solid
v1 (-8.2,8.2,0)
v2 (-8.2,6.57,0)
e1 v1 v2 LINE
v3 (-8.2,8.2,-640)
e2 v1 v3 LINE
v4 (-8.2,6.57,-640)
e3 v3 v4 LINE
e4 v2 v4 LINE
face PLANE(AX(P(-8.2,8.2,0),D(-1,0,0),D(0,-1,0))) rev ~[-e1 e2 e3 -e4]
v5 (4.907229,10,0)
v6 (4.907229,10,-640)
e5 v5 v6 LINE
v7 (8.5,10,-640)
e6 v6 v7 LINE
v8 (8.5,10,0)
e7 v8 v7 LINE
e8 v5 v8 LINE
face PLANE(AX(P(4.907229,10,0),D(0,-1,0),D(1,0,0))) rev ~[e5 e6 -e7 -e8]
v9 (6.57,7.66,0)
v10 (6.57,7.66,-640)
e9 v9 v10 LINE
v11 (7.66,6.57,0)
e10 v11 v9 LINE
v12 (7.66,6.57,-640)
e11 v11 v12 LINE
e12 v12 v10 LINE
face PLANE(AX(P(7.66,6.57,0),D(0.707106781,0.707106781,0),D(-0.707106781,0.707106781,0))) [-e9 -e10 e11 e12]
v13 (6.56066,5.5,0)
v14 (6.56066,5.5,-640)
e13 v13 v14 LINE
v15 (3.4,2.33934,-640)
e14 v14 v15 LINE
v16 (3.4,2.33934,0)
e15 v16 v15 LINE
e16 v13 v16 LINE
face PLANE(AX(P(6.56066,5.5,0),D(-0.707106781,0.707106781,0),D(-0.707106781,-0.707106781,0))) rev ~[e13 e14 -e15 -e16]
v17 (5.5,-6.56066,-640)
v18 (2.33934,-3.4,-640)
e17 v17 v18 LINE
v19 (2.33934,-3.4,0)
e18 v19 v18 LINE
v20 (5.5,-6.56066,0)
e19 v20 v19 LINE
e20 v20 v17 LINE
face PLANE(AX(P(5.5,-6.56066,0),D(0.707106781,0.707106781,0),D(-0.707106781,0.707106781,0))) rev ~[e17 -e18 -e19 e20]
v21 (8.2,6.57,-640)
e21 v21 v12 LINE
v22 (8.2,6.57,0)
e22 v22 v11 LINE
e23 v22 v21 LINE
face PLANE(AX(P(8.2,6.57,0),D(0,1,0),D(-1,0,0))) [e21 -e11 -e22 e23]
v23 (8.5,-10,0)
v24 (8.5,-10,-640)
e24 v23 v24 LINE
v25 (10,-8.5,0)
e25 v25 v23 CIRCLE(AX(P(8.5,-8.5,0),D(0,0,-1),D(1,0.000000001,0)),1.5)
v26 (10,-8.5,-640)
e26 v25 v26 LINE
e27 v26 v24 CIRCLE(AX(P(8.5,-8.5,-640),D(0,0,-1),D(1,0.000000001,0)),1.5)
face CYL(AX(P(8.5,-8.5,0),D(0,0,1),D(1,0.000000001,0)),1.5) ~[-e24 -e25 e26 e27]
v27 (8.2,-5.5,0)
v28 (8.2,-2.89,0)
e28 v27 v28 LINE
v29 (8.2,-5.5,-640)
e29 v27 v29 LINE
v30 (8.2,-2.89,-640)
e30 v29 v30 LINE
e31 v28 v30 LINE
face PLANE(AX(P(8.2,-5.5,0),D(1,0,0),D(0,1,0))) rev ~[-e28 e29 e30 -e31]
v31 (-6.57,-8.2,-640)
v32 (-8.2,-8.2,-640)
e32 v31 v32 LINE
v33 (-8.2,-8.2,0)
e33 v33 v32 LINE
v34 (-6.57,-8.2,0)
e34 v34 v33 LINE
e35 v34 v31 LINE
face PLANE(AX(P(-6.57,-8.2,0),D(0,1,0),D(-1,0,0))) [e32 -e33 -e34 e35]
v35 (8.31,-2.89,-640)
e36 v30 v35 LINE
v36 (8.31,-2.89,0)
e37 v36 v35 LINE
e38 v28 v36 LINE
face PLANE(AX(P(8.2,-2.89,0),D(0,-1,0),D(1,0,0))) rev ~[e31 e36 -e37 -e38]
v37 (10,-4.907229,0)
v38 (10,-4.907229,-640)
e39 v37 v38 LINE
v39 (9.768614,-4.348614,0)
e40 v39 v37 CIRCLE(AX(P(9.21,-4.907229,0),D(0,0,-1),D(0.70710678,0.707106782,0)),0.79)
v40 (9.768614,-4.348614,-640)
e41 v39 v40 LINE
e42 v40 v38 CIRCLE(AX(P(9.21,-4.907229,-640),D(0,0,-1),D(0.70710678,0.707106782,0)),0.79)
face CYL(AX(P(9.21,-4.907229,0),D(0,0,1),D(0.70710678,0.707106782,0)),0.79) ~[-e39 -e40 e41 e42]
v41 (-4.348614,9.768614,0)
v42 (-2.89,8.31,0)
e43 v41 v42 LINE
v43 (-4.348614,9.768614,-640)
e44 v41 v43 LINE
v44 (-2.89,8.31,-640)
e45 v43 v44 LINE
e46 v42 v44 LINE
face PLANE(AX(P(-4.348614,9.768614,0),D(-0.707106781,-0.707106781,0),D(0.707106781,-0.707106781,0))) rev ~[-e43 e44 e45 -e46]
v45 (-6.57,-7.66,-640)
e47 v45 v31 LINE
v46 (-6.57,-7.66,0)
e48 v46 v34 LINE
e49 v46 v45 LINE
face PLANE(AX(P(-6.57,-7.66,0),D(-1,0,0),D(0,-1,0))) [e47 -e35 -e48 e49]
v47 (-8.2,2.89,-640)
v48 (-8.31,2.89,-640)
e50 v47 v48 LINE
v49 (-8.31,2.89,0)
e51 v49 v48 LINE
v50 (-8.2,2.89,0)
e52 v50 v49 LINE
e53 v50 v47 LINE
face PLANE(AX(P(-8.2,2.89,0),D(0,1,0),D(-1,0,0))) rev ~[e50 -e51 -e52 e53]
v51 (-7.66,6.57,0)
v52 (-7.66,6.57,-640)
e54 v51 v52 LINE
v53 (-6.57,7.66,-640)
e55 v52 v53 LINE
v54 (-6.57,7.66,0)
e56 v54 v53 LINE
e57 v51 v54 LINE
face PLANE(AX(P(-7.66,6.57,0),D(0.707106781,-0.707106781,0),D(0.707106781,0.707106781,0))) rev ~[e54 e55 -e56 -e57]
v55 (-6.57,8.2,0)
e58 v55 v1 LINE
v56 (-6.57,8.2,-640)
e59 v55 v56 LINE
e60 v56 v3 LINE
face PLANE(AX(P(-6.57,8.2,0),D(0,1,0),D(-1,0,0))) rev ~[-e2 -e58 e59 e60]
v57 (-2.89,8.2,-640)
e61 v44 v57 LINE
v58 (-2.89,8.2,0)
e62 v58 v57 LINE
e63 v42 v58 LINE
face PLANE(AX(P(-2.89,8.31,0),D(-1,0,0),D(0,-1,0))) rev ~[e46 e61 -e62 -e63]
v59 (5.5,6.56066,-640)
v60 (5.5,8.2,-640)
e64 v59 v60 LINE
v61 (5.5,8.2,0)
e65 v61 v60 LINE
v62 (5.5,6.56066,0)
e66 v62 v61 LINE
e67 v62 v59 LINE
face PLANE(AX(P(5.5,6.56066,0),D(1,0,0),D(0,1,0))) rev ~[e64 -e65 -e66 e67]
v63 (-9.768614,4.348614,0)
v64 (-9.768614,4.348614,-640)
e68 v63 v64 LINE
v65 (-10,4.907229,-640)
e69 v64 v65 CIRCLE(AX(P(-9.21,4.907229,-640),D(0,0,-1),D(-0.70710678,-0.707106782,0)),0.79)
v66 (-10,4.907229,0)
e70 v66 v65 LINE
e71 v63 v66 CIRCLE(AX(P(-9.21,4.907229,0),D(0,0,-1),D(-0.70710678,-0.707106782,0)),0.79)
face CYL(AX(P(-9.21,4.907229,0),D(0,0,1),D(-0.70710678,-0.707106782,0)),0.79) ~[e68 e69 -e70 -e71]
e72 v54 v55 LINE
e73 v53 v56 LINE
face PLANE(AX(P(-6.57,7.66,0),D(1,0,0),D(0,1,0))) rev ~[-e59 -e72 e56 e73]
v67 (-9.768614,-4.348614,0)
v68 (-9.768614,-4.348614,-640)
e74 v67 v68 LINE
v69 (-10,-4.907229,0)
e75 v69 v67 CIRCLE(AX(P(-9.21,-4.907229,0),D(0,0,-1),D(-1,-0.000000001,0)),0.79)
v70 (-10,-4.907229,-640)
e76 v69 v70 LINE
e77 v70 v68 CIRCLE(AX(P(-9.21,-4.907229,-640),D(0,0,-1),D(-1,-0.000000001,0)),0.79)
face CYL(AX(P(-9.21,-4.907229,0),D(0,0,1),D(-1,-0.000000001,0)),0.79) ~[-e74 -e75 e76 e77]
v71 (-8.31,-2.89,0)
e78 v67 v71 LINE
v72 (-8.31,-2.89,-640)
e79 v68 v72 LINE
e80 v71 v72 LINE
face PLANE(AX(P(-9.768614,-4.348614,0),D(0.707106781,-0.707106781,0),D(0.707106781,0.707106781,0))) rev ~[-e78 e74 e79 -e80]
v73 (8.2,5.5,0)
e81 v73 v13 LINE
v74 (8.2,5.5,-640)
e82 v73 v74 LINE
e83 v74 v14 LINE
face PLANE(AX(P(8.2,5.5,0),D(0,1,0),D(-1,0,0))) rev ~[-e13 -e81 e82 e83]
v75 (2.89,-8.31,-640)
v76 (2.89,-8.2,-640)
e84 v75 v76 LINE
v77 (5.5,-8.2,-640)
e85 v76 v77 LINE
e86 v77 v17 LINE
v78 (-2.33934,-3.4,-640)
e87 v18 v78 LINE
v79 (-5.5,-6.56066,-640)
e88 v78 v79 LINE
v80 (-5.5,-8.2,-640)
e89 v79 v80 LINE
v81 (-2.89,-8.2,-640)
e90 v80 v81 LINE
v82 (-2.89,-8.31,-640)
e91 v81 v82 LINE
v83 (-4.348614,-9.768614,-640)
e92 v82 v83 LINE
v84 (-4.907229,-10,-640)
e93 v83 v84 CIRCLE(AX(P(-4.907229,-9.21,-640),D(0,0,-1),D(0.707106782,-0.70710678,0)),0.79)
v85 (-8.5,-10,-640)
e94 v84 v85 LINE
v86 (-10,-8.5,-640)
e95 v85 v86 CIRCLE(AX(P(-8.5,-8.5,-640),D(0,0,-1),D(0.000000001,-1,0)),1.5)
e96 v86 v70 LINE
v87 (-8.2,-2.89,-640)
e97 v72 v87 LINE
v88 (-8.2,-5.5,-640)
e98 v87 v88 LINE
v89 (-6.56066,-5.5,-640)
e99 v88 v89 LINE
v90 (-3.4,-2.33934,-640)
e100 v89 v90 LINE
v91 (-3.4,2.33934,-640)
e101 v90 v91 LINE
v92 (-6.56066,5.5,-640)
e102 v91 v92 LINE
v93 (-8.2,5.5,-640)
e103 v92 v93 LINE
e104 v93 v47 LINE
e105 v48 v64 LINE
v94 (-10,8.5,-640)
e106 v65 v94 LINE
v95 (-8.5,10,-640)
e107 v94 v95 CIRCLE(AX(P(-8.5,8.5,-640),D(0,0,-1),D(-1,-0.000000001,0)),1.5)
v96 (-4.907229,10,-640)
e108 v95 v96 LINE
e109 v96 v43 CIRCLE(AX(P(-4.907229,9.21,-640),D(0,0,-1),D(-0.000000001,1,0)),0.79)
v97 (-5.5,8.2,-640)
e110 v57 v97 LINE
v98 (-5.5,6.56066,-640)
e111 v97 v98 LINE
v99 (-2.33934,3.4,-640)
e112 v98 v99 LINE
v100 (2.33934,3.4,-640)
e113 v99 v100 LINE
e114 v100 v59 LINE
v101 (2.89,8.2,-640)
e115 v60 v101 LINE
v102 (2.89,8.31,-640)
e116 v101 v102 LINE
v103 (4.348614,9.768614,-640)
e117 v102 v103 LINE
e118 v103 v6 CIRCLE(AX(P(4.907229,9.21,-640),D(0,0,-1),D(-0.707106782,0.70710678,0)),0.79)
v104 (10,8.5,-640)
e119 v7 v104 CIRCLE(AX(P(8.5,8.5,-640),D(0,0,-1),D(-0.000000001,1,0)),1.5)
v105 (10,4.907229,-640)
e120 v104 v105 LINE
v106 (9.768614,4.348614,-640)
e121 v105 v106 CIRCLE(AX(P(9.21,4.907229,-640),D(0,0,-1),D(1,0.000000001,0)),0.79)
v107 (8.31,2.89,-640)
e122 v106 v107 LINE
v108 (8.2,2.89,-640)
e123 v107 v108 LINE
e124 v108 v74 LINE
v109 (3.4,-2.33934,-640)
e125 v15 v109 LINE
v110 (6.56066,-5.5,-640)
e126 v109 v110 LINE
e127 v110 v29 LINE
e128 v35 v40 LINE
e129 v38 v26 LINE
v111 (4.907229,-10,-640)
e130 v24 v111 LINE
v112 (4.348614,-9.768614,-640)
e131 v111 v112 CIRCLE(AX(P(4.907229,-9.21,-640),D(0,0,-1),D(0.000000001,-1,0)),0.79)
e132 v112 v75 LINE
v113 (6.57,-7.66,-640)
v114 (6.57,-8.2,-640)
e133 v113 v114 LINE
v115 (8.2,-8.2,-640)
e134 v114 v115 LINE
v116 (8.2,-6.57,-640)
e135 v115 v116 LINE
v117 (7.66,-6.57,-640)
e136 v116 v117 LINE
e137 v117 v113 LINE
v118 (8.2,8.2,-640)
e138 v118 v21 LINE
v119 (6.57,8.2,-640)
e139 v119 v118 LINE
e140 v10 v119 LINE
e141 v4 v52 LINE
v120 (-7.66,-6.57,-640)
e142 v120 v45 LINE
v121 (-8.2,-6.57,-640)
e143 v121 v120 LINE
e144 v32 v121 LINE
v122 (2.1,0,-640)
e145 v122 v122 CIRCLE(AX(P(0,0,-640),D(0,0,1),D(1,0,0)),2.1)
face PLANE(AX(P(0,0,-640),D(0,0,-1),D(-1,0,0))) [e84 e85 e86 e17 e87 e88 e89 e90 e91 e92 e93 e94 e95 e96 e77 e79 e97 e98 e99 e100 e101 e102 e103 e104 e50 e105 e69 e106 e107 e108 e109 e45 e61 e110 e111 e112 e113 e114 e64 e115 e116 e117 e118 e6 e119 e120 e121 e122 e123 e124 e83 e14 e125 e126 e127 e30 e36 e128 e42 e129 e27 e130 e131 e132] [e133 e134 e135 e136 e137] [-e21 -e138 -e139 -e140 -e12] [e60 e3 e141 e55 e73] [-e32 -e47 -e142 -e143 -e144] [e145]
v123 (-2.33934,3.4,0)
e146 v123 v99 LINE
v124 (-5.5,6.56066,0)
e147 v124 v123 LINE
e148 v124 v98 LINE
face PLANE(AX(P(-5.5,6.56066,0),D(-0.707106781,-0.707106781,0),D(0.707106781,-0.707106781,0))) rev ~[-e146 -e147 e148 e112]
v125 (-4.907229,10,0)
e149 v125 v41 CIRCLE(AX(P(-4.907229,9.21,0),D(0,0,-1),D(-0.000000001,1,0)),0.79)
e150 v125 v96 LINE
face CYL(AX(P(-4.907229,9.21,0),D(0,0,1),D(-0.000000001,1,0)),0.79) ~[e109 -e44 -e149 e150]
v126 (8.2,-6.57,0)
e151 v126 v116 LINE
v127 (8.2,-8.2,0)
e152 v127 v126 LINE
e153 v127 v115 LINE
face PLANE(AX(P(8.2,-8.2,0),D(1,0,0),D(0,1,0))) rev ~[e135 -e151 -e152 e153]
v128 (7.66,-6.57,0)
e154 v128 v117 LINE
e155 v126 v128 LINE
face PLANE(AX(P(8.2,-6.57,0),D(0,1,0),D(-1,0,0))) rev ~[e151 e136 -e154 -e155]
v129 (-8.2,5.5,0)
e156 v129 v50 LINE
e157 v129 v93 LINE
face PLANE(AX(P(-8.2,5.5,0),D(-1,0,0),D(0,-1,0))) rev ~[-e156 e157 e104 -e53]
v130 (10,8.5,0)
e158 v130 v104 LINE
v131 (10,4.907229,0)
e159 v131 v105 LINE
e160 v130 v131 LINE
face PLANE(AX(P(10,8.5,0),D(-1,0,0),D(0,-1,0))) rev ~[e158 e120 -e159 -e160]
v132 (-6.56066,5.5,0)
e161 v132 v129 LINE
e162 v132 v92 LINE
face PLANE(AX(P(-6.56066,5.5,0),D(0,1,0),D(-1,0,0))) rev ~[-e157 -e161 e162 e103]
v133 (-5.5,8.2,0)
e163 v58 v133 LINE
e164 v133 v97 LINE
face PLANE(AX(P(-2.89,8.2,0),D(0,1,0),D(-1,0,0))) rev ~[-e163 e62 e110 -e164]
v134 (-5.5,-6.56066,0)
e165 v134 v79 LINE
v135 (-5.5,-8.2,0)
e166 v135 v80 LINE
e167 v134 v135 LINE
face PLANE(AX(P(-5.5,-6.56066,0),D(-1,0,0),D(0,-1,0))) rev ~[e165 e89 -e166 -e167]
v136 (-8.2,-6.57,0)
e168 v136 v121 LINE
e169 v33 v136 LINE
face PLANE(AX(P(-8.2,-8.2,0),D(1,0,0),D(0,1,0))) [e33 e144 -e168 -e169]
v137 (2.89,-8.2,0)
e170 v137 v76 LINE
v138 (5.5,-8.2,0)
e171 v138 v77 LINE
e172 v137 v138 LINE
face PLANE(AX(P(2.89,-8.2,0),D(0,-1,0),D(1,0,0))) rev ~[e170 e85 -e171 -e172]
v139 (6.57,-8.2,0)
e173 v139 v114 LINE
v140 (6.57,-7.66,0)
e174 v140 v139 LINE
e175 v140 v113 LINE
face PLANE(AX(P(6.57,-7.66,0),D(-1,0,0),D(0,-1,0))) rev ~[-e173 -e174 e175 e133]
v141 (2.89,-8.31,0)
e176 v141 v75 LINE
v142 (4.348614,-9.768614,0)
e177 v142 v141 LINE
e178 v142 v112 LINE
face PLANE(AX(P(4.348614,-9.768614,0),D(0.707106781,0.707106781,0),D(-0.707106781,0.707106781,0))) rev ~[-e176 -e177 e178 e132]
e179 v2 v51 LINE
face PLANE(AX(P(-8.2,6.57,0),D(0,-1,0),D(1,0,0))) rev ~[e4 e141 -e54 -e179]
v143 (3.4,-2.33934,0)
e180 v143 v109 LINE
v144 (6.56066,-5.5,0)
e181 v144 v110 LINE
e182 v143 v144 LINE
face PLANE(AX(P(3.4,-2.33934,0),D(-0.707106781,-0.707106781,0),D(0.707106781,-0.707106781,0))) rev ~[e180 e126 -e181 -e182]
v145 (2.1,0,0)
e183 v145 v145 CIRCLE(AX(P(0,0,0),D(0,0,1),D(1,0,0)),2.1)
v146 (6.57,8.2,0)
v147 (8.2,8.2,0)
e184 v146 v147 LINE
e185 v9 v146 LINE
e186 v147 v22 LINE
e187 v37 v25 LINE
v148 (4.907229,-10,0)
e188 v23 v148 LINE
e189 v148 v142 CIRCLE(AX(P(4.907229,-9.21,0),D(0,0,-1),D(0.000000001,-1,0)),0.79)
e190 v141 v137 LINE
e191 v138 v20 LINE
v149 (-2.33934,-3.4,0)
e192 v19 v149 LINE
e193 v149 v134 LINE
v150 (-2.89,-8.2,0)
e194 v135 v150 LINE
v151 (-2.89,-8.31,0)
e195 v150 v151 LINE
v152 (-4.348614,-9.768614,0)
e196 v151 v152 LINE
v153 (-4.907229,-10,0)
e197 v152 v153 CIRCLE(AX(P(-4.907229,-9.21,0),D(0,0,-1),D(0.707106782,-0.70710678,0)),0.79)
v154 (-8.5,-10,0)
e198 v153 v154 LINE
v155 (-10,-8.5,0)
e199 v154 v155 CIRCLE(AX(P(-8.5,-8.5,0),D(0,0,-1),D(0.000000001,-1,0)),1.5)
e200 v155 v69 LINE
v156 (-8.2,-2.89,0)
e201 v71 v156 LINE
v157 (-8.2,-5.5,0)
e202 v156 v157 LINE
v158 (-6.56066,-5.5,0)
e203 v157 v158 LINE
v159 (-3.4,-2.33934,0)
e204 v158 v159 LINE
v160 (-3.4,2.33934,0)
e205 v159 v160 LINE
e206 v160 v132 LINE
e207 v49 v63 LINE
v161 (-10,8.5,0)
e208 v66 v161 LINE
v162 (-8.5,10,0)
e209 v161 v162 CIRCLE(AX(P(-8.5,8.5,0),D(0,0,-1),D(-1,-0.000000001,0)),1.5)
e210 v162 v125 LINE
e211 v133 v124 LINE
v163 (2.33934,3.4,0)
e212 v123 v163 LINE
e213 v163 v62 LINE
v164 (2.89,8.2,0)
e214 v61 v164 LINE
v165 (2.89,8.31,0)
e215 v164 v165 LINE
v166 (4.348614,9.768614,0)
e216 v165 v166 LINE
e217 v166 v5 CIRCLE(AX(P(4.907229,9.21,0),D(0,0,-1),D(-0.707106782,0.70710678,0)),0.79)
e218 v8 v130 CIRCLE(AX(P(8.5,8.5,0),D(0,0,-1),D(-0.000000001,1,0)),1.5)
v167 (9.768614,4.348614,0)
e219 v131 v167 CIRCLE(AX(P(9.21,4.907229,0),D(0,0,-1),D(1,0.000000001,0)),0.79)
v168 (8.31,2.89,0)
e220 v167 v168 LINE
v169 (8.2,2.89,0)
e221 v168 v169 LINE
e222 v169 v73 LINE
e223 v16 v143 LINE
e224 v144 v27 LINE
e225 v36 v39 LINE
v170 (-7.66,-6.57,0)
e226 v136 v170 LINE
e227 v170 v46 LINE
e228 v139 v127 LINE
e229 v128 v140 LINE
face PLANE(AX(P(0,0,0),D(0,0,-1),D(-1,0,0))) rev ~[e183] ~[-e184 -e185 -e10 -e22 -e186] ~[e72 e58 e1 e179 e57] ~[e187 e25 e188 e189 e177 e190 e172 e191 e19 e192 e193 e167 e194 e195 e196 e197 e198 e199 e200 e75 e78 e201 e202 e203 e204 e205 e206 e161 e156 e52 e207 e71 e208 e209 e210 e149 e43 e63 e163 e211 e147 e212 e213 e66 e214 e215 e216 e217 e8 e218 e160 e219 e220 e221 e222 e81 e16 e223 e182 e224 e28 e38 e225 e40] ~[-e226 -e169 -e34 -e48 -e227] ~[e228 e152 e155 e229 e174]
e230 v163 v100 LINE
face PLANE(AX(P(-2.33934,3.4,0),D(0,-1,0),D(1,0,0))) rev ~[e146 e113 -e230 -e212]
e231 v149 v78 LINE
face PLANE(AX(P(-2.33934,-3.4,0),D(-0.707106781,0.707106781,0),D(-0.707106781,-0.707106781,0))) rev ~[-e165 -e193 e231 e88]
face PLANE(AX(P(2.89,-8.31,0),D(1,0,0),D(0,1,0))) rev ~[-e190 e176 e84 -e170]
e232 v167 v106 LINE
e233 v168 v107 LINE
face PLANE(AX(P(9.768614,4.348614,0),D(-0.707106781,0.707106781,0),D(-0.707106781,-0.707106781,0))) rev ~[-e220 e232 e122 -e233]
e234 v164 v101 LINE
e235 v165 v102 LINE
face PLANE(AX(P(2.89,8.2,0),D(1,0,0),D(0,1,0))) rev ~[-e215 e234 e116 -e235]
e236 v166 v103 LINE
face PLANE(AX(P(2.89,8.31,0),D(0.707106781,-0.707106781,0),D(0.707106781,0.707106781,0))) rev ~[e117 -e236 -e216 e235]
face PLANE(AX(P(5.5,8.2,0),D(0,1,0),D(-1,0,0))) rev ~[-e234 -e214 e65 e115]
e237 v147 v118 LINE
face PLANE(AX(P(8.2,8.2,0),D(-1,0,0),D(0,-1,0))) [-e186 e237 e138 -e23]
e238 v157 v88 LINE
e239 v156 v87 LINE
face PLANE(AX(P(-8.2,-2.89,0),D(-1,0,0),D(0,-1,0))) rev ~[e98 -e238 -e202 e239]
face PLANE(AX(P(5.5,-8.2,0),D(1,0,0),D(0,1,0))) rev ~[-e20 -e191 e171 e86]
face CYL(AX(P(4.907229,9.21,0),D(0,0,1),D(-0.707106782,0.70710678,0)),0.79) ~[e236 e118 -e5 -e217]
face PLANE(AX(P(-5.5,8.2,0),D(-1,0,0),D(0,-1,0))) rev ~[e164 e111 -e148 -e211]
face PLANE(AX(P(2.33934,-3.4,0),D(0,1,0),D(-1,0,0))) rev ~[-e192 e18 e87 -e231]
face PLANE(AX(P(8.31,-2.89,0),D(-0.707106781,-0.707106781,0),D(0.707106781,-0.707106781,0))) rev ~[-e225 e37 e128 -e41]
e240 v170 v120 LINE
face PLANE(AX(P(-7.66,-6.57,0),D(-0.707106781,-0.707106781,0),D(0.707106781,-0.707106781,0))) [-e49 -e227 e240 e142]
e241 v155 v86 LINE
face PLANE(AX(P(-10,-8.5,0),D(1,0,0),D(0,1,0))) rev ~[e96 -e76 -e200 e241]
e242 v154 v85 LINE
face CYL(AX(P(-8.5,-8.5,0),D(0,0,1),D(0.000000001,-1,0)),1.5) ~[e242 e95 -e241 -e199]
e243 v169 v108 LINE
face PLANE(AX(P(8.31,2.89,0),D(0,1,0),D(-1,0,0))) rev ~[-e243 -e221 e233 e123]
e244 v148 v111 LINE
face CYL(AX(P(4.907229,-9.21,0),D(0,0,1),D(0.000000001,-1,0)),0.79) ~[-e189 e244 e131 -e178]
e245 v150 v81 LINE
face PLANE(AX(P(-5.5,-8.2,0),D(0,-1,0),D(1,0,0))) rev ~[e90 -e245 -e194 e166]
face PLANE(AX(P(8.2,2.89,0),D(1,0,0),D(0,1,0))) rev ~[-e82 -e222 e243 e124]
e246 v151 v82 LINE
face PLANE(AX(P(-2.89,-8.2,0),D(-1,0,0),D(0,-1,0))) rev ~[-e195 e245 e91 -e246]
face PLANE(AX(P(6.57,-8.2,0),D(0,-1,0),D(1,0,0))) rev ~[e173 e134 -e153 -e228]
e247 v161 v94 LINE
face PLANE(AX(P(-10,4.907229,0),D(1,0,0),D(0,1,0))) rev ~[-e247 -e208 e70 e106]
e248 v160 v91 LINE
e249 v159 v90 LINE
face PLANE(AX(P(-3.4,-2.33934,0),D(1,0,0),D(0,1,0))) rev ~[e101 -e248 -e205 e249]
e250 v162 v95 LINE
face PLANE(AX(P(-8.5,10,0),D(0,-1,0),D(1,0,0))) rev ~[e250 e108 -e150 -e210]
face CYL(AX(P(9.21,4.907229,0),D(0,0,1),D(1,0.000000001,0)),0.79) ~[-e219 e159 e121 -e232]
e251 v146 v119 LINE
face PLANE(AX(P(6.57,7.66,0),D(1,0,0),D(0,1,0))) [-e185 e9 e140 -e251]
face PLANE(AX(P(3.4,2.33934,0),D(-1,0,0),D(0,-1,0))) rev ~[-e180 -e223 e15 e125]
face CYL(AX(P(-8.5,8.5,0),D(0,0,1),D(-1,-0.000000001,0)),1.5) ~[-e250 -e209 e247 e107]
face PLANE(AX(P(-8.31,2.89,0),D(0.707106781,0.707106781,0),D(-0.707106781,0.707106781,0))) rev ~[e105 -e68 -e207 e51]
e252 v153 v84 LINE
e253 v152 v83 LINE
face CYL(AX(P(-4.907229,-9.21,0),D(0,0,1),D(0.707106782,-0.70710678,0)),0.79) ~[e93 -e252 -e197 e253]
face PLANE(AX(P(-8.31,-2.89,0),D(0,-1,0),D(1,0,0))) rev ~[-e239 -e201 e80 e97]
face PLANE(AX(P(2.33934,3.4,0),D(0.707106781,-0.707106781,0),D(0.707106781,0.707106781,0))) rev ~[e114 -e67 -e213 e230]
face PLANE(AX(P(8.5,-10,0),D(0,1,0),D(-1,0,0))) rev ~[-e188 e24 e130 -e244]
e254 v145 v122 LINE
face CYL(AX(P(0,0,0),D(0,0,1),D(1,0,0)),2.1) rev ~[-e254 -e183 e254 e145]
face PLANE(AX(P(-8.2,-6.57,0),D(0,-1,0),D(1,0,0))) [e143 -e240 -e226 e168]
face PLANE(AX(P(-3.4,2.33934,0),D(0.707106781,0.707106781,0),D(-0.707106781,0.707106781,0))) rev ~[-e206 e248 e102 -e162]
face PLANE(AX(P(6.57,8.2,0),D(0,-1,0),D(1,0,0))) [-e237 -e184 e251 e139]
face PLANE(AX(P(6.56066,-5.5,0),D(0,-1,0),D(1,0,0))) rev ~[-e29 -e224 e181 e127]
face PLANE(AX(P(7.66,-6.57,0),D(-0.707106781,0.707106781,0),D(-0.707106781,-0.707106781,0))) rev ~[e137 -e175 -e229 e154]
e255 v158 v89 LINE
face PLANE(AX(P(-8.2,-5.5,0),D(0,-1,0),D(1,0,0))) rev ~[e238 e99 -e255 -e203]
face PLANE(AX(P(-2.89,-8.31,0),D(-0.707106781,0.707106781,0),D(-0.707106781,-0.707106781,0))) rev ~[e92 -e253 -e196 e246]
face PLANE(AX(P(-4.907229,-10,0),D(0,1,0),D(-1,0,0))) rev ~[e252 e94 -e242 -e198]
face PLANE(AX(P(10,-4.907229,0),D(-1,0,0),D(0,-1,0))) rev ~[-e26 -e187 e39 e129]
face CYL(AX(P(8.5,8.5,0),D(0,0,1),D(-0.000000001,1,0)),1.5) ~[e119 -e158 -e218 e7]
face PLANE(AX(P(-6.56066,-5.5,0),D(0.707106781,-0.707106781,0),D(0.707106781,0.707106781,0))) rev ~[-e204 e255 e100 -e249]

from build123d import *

# Parameters (mm, degrees)
SKETCH6_R           = 2.1
BOSS_EXTRUDE1_DEPTH = 640


with BuildPart() as part:
    # Sketch6 → Boss-Extrude1 (new body)
    with BuildSketch(Plane.XY):
        with BuildLine():
            Line((-3.4, -2.339339828), (-3.4, 2.339339828))
            Line((-3.4, 2.339339828), (-6.560660172, 5.5))
            Line((-6.560660172, 5.5), (-8.2, 5.5))
            Line((-8.2, 5.5), (-8.2, 2.89))
            Line((-8.2, 2.89), (-8.31, 2.89))
            Line((-8.31, 2.89), (-9.768614357, 4.348614357))
            ThreePointArc((-9.768614357, 4.348614357), (-9.939864831, 4.604908803), (-10, 4.907228714))
            Line((-10, 4.907228714), (-10, 8.5))
            ThreePointArc((-10, 8.5), (-9.560660172, 9.560660172), (-8.5, 10))
            Line((-8.5, 10), (-4.907228714, 10))
            ThreePointArc((-4.907228714, 10), (-4.604908803, 9.939864831), (-4.348614357, 9.768614357))
            Line((-4.348614357, 9.768614357), (-2.89, 8.31))
            Line((-2.89, 8.31), (-2.89, 8.2))
            Line((-2.89, 8.2), (-5.5, 8.2))
            Line((-5.5, 8.2), (-5.5, 6.560660172))
            Line((-5.5, 6.560660172), (-2.339339828, 3.4))
            Line((-2.339339828, 3.4), (2.339339828, 3.4))
            Line((2.339339828, 3.4), (5.5, 6.560660172))
            Line((5.5, 6.560660172), (5.5, 8.2))
            Line((5.5, 8.2), (2.89, 8.2))
            Line((2.89, 8.2), (2.89, 8.31))
            Line((2.89, 8.31), (4.348614357, 9.768614357))
            ThreePointArc((4.348614357, 9.768614357), (4.604908803, 9.939864831), (4.907228714, 10))
            Line((4.907228714, 10), (8.5, 10))
            ThreePointArc((8.5, 10), (9.560660172, 9.560660172), (10, 8.5))
            Line((10, 8.5), (10, 4.907228714))
            ThreePointArc((10, 4.907228714), (9.939864831, 4.604908803), (9.768614357, 4.348614357))
            Line((9.768614357, 4.348614357), (8.31, 2.89))
            Line((8.31, 2.89), (8.2, 2.89))
            Line((8.2, 2.89), (8.2, 5.5))
            Line((8.2, 5.5), (6.560660172, 5.5))
            Line((6.560660172, 5.5), (3.4, 2.339339828))
            Line((3.4, 2.339339828), (3.4, -2.339339828))
            Line((3.4, -2.339339828), (6.560660172, -5.5))
            Line((6.560660172, -5.5), (8.2, -5.5))
            Line((8.2, -5.5), (8.2, -2.89))
            Line((8.2, -2.89), (8.31, -2.89))
            Line((8.31, -2.89), (9.768614357, -4.348614357))
            ThreePointArc((9.768614357, -4.348614357), (9.939864831, -4.604908803), (10, -4.907228714))
            Line((10, -4.907228714), (10, -8.5))
            ThreePointArc((10, -8.5), (9.560660172, -9.560660172), (8.5, -10))
            Line((8.5, -10), (4.907228714, -10))
            ThreePointArc((4.907228714, -10), (4.604908803, -9.939864831), (4.348614357, -9.768614357))
            Line((4.348614357, -9.768614357), (2.89, -8.31))
            Line((2.89, -8.31), (2.89, -8.2))
            Line((2.89, -8.2), (5.5, -8.2))
            Line((5.5, -8.2), (5.5, -6.560660172))
            Line((5.5, -6.560660172), (2.339339828, -3.4))
            Line((2.339339828, -3.4), (-2.339339828, -3.4))
            Line((-2.339339828, -3.4), (-5.5, -6.560660172))
            Line((-5.5, -6.560660172), (-5.5, -8.2))
            Line((-5.5, -8.2), (-2.89, -8.2))
            Line((-2.89, -8.2), (-2.89, -8.31))
            Line((-2.89, -8.31), (-4.348614357, -9.768614357))
            ThreePointArc((-4.348614357, -9.768614357), (-4.604908803, -9.939864831), (-4.907228714, -10))
            Line((-4.907228714, -10), (-8.5, -10))
            ThreePointArc((-8.5, -10), (-9.560660172, -9.560660172), (-10, -8.5))
            Line((-10, -8.5), (-10, -4.907228714))
            ThreePointArc((-10, -4.907228714), (-9.939864831, -4.604908803), (-9.768614357, -4.348614357))
            Line((-9.768614357, -4.348614357), (-8.31, -2.89))
            Line((-8.31, -2.89), (-8.2, -2.89))
            Line((-8.2, -2.89), (-8.2, -5.5))
            Line((-8.2, -5.5), (-6.560660172, -5.5))
            Line((-6.560660172, -5.5), (-3.4, -2.339339828))
        make_face()
        Circle(SKETCH6_R, mode=Mode.SUBTRACT)
        Polygon((-7.66, 6.57), (-6.57, 7.66), (-6.57, 8.2), (-8.2, 8.2), (-8.2, 6.57), align=None, mode=Mode.SUBTRACT)
        Polygon((8.2, 6.57), (7.66, 6.57), (6.57, 7.66), (6.57, 8.2), (8.2, 8.2), align=None, mode=Mode.SUBTRACT)
        Polygon((7.66, -6.57), (6.57, -7.66), (6.57, -8.2), (8.2, -8.2), (8.2, -6.57), align=None, mode=Mode.SUBTRACT)
        Polygon((-8.2, -6.57), (-7.66, -6.57), (-6.57, -7.66), (-6.57, -8.2), (-8.2, -8.2), align=None, mode=Mode.SUBTRACT)
    extrude(amount=-BOSS_EXTRUDE1_DEPTH)


solid = part.part
